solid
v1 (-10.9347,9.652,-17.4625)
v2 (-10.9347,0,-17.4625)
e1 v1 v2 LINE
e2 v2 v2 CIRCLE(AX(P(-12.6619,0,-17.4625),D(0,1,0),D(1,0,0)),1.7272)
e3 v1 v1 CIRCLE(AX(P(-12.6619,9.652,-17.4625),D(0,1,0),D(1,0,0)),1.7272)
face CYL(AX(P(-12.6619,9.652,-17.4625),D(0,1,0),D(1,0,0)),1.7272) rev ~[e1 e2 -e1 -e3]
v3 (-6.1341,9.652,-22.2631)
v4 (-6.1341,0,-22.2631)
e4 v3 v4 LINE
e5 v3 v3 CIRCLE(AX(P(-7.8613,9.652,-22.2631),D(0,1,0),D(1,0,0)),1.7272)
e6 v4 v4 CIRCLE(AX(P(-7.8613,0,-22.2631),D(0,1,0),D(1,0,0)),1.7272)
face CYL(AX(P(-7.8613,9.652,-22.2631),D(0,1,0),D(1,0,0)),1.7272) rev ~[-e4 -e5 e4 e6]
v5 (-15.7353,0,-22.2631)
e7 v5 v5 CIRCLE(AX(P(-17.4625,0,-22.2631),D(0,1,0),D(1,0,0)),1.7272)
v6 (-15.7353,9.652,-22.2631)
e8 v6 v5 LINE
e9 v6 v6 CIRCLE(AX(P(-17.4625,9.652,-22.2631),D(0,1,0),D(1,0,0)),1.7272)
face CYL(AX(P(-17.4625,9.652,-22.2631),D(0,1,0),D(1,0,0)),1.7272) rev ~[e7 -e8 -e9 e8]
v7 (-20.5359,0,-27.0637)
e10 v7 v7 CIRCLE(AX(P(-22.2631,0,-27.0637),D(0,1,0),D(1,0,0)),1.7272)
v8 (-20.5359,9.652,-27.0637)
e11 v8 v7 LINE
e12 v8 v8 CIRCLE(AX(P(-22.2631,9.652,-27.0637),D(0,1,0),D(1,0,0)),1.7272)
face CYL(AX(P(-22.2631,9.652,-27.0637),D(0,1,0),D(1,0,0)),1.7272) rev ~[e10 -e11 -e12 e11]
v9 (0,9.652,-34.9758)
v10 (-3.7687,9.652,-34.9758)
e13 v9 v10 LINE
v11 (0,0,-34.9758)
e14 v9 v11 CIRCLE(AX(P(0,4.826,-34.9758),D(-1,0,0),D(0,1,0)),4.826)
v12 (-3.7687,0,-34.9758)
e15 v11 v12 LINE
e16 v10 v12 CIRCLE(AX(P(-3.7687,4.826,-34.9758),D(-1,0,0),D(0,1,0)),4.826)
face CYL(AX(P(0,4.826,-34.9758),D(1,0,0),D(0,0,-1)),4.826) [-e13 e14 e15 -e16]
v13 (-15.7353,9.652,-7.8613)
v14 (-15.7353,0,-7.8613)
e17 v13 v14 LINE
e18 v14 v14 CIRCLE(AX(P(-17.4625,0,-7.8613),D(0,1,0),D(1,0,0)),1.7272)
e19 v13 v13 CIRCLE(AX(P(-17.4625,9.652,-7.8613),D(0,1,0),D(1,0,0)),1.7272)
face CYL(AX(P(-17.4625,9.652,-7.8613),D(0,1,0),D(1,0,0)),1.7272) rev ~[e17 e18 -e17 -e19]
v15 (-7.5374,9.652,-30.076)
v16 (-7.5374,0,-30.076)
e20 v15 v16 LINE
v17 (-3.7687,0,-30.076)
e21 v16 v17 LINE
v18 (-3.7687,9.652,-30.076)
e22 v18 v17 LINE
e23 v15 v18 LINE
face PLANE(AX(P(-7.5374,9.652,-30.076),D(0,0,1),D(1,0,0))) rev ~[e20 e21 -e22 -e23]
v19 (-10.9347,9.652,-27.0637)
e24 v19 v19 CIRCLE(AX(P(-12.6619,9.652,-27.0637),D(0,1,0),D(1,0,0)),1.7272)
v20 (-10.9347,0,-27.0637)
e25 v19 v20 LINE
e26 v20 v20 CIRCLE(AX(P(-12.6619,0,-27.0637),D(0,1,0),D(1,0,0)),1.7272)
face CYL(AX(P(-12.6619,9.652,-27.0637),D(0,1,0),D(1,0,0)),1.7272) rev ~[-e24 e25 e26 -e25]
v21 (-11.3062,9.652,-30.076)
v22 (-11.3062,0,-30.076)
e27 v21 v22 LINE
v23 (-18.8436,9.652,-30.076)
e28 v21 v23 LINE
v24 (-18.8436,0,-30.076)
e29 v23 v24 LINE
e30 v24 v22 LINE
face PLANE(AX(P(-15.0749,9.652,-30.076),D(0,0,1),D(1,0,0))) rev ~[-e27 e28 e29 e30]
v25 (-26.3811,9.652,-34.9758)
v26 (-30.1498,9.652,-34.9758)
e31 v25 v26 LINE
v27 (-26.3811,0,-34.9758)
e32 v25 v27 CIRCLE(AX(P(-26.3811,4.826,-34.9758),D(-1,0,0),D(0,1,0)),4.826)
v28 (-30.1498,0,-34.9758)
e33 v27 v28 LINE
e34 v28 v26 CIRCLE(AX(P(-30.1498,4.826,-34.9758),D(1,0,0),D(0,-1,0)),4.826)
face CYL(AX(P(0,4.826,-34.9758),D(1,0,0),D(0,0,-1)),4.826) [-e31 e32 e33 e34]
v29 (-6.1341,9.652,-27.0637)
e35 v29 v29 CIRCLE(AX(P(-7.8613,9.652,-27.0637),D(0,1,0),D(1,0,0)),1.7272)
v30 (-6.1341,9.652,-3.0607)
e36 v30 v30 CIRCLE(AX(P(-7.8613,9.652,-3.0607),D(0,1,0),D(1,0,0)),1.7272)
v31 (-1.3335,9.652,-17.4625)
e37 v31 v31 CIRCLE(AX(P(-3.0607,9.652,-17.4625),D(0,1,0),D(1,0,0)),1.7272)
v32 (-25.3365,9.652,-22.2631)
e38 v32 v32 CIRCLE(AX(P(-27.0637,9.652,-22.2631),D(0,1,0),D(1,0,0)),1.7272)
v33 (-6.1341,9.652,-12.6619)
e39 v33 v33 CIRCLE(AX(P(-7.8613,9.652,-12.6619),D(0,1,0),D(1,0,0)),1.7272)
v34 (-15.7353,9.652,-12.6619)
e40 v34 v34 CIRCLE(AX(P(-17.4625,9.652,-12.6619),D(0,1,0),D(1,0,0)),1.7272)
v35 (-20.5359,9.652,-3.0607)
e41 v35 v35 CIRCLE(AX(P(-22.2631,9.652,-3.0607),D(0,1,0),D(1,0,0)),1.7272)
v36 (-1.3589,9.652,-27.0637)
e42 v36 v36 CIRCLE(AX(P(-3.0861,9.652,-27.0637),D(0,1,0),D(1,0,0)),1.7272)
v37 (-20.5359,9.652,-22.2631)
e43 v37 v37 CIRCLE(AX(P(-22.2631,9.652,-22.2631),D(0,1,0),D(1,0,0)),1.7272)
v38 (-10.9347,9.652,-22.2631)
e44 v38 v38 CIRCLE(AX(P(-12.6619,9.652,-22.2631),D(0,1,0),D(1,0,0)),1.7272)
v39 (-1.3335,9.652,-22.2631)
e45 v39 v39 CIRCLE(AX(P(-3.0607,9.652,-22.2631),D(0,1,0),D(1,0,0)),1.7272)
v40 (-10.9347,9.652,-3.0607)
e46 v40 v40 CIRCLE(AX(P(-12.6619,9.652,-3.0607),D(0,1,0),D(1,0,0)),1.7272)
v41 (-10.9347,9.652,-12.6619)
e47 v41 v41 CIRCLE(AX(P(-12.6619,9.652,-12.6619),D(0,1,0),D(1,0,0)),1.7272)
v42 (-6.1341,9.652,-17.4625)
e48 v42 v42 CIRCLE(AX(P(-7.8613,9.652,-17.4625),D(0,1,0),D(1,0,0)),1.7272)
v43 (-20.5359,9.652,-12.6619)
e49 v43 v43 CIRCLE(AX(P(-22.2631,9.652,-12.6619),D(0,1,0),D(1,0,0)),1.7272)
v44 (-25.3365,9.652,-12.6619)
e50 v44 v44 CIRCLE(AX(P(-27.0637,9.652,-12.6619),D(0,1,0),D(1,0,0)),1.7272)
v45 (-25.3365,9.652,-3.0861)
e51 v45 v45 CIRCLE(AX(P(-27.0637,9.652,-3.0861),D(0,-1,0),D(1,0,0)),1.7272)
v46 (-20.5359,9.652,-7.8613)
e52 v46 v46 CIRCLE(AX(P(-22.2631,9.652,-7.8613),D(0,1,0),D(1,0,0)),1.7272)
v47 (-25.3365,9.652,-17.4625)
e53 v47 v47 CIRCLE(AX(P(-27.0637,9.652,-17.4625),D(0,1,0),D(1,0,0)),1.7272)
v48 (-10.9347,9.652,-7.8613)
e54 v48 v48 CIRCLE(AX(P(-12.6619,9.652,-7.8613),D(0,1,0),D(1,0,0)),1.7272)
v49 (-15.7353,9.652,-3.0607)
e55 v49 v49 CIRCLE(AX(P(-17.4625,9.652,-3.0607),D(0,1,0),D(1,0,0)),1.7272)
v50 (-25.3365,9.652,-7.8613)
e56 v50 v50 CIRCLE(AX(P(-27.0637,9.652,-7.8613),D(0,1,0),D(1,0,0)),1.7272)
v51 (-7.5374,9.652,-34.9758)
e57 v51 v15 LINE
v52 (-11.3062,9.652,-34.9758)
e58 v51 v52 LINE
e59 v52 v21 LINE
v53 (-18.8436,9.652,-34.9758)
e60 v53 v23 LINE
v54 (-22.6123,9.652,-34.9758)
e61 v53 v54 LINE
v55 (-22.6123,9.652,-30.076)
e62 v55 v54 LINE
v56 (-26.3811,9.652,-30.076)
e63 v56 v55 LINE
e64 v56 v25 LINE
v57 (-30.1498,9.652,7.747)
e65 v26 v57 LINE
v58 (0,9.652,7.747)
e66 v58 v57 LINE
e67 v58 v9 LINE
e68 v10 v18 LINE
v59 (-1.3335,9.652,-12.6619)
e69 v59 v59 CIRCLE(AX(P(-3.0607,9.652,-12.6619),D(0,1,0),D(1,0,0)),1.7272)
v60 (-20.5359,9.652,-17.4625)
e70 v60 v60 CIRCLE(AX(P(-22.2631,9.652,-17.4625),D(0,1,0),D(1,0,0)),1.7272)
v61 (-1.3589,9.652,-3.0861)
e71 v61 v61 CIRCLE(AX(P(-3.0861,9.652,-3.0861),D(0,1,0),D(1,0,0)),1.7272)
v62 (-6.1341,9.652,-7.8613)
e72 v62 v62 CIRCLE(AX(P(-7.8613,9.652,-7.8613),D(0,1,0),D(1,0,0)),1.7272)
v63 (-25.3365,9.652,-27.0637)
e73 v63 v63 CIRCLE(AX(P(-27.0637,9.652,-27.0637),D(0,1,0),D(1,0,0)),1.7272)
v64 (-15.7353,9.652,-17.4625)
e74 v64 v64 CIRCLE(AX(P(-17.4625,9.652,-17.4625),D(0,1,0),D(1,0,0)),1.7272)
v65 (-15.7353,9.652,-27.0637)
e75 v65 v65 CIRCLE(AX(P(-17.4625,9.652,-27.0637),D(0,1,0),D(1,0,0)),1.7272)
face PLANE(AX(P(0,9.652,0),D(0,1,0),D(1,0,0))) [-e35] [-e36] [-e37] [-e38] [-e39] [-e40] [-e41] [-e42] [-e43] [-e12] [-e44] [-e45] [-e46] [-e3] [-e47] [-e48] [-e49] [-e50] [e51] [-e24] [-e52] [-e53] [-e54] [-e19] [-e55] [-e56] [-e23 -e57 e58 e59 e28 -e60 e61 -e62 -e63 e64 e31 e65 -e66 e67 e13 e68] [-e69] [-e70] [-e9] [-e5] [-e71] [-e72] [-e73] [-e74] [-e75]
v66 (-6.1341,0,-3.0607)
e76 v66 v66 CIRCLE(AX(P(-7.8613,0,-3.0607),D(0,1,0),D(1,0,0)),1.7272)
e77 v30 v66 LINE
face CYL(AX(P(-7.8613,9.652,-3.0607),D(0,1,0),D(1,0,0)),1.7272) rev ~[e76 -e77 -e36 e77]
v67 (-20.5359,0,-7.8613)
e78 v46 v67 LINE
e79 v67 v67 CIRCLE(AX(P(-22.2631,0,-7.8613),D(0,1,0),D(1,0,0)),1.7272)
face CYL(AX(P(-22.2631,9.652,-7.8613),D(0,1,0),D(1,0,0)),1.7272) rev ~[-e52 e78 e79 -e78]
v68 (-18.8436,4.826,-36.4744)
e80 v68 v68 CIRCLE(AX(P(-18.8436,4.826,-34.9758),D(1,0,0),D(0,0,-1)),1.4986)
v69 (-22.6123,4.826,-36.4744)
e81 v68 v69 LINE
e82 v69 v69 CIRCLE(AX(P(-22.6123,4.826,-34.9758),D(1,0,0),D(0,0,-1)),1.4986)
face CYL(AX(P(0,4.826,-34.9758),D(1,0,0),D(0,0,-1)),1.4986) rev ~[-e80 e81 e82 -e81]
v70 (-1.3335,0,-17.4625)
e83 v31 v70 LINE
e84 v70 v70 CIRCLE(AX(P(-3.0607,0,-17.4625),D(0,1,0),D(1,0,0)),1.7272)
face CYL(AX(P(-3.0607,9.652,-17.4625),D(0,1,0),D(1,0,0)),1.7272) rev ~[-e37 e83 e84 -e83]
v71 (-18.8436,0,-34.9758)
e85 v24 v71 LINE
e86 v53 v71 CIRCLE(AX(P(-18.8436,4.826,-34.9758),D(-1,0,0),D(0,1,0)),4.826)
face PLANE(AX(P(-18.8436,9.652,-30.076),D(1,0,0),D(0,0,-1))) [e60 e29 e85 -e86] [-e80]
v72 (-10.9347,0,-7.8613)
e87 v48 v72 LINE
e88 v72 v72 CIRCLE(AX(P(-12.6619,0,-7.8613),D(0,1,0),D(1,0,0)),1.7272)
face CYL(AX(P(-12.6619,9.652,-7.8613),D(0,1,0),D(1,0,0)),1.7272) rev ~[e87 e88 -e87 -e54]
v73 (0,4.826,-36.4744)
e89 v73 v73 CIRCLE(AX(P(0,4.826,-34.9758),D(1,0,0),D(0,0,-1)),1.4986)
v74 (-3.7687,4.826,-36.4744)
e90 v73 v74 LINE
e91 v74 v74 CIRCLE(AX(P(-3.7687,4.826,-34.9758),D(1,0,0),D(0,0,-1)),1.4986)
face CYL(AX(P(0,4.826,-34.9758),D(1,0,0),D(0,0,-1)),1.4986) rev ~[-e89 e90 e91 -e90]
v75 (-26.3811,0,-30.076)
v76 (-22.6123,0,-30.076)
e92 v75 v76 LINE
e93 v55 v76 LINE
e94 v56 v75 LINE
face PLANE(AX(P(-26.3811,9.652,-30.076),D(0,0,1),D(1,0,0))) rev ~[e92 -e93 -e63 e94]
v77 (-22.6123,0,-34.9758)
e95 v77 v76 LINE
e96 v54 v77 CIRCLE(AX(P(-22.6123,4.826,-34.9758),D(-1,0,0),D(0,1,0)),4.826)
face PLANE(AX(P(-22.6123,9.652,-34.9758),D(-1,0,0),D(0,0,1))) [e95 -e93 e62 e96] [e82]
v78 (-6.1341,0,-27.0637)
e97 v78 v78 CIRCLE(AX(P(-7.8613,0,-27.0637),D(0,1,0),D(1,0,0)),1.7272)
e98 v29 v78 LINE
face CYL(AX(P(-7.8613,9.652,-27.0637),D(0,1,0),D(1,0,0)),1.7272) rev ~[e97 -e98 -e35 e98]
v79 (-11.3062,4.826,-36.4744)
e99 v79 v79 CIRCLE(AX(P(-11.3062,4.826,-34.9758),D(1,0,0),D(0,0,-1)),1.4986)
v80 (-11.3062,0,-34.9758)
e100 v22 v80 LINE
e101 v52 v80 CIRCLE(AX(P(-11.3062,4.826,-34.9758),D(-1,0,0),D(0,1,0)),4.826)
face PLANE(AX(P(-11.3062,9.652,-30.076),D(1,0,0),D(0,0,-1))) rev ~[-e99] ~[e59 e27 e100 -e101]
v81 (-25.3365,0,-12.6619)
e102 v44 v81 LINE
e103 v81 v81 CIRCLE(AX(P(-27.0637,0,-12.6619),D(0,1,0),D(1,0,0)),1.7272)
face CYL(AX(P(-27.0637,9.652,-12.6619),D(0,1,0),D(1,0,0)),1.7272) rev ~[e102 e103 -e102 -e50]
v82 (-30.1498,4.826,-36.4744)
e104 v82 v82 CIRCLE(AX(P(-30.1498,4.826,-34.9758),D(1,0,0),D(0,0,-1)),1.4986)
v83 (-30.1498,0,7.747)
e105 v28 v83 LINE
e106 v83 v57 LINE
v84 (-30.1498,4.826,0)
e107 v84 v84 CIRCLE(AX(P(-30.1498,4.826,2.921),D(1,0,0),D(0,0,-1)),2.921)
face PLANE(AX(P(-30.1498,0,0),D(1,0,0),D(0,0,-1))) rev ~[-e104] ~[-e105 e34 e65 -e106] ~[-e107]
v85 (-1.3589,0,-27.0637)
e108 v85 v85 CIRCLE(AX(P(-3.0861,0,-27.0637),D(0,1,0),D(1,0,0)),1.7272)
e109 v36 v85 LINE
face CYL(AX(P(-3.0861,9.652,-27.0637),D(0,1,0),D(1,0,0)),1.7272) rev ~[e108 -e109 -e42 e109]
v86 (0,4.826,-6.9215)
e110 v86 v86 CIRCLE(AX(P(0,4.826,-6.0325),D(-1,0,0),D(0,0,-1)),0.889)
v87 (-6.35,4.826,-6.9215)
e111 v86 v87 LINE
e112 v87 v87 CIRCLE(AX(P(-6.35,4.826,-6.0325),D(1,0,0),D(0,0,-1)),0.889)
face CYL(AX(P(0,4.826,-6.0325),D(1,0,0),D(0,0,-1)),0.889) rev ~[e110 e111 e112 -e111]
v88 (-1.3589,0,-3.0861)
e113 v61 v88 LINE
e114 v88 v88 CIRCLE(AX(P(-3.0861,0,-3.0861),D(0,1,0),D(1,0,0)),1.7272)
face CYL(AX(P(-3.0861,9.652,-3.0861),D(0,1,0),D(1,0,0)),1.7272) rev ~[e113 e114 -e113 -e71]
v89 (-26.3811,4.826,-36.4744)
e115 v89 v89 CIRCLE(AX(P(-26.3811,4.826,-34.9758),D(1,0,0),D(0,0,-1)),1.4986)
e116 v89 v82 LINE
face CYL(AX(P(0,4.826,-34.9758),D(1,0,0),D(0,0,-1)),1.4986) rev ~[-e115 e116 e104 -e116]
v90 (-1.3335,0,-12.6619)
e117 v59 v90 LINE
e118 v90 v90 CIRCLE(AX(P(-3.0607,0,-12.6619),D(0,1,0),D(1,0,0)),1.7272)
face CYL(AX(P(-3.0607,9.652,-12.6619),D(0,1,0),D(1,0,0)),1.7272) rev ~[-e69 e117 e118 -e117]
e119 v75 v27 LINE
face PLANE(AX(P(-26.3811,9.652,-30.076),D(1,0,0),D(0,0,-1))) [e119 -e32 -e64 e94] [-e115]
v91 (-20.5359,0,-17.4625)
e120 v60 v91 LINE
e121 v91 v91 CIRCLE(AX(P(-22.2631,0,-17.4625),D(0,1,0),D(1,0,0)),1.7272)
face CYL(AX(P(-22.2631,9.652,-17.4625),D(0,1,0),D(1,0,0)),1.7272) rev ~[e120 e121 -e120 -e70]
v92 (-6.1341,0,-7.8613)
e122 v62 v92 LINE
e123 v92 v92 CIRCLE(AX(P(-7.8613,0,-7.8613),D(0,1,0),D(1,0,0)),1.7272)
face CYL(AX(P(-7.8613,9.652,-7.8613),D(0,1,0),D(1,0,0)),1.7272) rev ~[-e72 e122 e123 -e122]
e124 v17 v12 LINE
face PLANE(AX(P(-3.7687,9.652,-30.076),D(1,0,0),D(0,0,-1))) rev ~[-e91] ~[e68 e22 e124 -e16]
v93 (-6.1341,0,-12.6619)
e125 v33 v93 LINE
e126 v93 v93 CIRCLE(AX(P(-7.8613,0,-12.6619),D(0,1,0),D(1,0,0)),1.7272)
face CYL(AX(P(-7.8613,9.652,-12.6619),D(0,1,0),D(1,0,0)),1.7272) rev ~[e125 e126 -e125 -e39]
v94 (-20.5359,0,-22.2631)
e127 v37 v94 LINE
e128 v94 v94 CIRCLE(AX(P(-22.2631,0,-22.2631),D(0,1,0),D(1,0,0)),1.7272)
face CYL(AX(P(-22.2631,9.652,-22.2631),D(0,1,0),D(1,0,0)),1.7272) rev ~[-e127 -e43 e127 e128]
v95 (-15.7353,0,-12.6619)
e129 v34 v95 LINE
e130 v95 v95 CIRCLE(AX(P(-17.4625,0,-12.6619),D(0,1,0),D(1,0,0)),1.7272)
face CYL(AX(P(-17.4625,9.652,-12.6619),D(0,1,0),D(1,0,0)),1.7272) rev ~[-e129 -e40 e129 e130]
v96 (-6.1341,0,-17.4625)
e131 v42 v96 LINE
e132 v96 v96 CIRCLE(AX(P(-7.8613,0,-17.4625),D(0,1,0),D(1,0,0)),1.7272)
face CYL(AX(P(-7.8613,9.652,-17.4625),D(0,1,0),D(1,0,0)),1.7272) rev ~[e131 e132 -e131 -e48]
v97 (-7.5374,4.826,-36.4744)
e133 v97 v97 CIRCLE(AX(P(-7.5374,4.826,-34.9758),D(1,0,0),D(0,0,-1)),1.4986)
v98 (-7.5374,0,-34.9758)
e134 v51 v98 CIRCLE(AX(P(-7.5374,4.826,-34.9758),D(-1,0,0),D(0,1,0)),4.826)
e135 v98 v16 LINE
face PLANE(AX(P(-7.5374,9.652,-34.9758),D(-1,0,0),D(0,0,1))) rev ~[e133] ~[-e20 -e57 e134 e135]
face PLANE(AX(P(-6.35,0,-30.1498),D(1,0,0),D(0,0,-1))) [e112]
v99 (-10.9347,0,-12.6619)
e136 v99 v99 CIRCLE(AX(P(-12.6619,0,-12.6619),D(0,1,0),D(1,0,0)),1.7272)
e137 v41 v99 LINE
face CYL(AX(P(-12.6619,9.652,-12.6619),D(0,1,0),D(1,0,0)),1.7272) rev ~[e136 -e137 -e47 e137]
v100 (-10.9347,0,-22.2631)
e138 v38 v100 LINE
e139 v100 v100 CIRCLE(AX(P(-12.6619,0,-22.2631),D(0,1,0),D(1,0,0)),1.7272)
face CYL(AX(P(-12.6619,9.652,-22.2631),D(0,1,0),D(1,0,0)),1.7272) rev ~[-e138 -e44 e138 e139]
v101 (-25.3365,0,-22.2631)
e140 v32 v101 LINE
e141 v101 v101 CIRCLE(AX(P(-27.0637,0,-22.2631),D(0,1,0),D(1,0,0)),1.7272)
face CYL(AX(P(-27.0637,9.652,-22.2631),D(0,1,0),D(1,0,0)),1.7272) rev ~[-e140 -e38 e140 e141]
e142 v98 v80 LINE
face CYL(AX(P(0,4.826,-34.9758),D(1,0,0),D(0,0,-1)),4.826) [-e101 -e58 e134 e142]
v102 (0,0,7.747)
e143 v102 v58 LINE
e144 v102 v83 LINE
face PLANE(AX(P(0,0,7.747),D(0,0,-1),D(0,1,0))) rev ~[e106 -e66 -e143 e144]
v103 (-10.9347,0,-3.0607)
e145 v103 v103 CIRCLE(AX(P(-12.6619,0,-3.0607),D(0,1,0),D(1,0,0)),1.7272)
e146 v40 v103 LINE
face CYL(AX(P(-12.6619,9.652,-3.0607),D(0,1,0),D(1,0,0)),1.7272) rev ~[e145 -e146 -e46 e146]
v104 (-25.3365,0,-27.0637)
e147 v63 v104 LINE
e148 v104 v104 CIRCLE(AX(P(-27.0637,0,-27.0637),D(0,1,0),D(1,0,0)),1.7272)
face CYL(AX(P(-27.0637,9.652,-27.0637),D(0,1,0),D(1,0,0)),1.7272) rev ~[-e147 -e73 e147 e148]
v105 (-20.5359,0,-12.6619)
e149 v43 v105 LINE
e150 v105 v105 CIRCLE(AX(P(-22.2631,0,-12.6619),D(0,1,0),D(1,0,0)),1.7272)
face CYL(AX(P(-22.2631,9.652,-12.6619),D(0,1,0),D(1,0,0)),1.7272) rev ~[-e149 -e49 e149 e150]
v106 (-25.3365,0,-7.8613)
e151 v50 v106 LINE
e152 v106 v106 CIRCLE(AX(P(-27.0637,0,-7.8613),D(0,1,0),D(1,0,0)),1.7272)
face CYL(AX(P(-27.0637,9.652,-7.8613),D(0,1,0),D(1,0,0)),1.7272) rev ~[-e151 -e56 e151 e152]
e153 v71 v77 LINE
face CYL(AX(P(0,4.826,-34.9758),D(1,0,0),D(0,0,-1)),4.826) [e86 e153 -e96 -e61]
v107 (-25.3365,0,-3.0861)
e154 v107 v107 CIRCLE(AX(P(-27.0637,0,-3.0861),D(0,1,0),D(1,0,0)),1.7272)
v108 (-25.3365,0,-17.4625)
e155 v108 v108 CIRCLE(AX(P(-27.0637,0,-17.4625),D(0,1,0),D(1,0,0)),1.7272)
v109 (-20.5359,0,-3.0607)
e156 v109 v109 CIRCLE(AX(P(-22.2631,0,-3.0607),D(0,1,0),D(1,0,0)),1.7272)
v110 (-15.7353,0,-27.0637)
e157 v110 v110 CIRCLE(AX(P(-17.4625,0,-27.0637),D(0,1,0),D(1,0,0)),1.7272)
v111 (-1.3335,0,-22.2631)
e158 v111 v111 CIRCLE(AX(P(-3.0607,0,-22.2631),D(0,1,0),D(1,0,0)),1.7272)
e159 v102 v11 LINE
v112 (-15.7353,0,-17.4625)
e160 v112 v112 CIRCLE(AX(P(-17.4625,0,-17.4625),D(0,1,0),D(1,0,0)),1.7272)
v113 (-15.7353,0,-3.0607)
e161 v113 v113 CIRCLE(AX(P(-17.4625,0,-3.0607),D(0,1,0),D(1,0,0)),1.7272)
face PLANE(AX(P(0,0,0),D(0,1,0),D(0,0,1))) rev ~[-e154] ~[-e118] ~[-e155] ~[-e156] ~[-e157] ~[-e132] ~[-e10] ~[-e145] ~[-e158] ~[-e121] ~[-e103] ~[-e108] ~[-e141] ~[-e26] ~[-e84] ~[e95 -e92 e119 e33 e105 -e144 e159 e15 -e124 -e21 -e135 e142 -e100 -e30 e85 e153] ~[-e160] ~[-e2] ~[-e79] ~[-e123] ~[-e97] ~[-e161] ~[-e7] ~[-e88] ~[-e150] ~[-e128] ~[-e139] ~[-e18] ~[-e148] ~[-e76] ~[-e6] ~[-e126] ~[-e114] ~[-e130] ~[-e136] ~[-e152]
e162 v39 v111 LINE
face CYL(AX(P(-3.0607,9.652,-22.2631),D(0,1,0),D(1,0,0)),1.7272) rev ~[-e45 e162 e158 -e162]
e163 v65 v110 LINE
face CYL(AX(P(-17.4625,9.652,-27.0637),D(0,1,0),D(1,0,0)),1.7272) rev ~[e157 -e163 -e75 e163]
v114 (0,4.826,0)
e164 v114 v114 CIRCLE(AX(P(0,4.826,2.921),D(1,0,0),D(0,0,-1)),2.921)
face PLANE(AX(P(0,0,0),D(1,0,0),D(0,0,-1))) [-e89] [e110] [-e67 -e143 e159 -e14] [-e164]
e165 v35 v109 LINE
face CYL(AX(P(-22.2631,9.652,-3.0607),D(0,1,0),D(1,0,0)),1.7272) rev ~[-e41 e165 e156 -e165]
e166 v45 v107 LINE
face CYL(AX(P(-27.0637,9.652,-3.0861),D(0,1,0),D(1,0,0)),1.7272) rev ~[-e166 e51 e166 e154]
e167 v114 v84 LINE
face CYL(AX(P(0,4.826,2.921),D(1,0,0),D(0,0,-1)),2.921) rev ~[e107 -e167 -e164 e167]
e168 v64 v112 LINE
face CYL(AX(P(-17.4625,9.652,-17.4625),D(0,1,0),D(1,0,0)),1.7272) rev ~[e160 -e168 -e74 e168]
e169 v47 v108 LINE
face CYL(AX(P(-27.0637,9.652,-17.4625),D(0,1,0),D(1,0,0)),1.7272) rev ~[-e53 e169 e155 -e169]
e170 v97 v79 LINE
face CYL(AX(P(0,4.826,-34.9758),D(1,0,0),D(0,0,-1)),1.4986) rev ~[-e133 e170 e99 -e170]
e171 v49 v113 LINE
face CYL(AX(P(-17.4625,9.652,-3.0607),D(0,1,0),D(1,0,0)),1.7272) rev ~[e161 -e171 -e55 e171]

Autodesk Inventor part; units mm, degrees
ref_plane "YZ Plane" through (0, 0, 0) normal (1, 0, 0) x (0, 1, 0)
ref_plane "XZ Plane" through (0, 0, 0) normal (0, 1, 0) x (-1, 0, 0)
ref_plane "XY Plane" through (0, 0, 0) normal (0, 0, 1) x (1, 0, 0)
sketch "Sketch1" plane through (0, 0, 0) normal (0, 1, 0) x (-1, 0, 0)
  line L0 (0, 0) -> (30.1498, 0)
  line L1 (30.1498, 0) -> (30.1498, -30.1498)
  line L2 (30.1498, -30.1498) -> (0, -30.1498)
  line L3 (0, -30.1498) -> (0, 0)
  dimension "d0" = 30.1498
  dimension "d1" = 30.1498
extrude "Extrusion1" add sketch "Sketch1" along normal blind 9.652
sketch "Sketch3" plane through (0, 9.652, 0) normal (0, 1, 0) x (1, 0, 0)
  line L0 (-30.1498, 0) -> (0, 0) projected
  line L1 (0, 0) -> (0, 30.1498) projected
  line L2 (0, 30.1498) -> (-30.1498, 30.1498) projected
  line L3 (-30.1498, 30.1498) -> (-30.1498, 0) projected
  line L4 (-30.1498, 0) -> (0, 0) projected
  line L5 (-15.0749, 0) -> (-28.7909, 0)
  line L6 (-30.1498, 30.1498) -> (-30.1498, 0) projected
  line L7 (-30.1498, 15.0749) -> (-30.1498, 1.3589)
  line L8 (-30.1498, 1.3589) -> (-30.1498, 3.0861)
  line L9 (-30.1498, 3.0861) -> (-27.0637, 3.0861)
  line L10 (-28.7909, 0) -> (-27.0637, 0)
  line L11 (-27.0637, 0) -> (-27.0637, 3.0861)
  circle A0 centre (-27.0637, 3.0861) radius 1.7272
  line L12 (-15.0749, 0) -> (-15.0749, 4.3585)
  line L13 (-30.1498, 15.0749) -> (-29.1171, 15.0749)
  circle A1 centre (-3.0861, 3.0861) radius 1.7272
  line L14 (0, 15.0749) -> (-1.0327, 15.0749)
  circle A2 centre (-27.0637, 27.0637) radius 1.7272
  circle A3 centre (-3.0861, 27.0637) radius 1.7272
  dimension "d9" = 13.716
  dimension "d10" = 13.716
  dimension "d11" = 1.7272
  dimension "d12" = 1.7272
  dimension "d13" = 3.4544
extrude "Extrusion3" cut sketch "Sketch3" against normal blind 30.48 contours A0 L9 L11 | L11 L9 A0 | A1 | A2 | A3
sketch "Sketch4" plane through (0, 0, 0) normal (1, 0, 0) x (0, 0, -1)
  line L0 (4.8133, 9.652) -> (4.8133, 0) projected
  line L1 (1.3589, 9.652) -> (1.3589, 0) projected
  line L2 (4.8133, 4.826) -> (9.6393, 4.826)
  circle A0 centre (4.9912, 4.826) radius 2.921 projected
  line L3 (30.1498, 0) -> (0, 0) projected
  line L4 (30.1498, 0) -> (30.1498, 9.652) projected
  line L5 (0, 9.652) -> (30.1498, 9.652) projected
  line L6 (0, 0) -> (0, 9.652) projected
  line L7 (0, 4.826) -> (-2.921, 4.826)
  circle A1 centre (-2.921, 4.826) radius 2.921
  line L8 (0, 0) -> (-7.747, 0)
  line L9 (-7.747, 0) -> (-7.747, 9.652)
  line L10 (-7.747, 9.652) -> (0, 9.652)
  line L11 (0, 9.652) -> (0, 0)
  dimension "d16" = 4.826
  dimension "d18" = 2.921
  dimension "d19" = 7.747
extrude "Extrusion4" add sketch "Sketch4" against normal up to surface (30.1498 mm away) contours L6 L8 L9 L10
sketch "Sketch5" plane through (0, 9.652, 0) normal (0, 1, 0) x (1, 0, 0)
  circle A0 centre (-3.0861, 27.0637) radius 1.7272 projected
  circle A1 centre (-3.0861, 3.0861) radius 1.7272 projected
  circle A2 centre (-27.0637, 3.0861) radius 1.7272 projected
  circle A3 centre (-27.0637, 27.0637) radius 1.7272 projected
  line L0 (0, 30.1498) -> (0, -7.747) projected
  line L1 (0, 30.1498) -> (-30.1498, 30.1498) projected
  line L2 (-30.1498, 30.1498) -> (-30.1498, -7.747) projected
  line L3 (0, -7.747) -> (-30.1498, -7.747) projected
  circle A4 centre (-27.0637, 27.0637) radius 1.7272
  circle A5 centre (-27.0637, 22.2631) radius 1.7272
  circle A6 centre (-27.0637, 17.4625) radius 1.7272
  circle A7 centre (-27.0637, 12.6619) radius 1.7272
  circle A8 centre (-27.0637, 7.8613) radius 1.7272
  circle A9 centre (-27.0637, 3.0607) radius 1.7272
  circle A10 centre (-22.2631, 27.0637) radius 1.7272
  circle A11 centre (-22.2631, 22.2631) radius 1.7272
  circle A12 centre (-22.2631, 17.4625) radius 1.7272
  circle A13 centre (-22.2631, 12.6619) radius 1.7272
  circle A14 centre (-22.2631, 7.8613) radius 1.7272
  circle A15 centre (-22.2631, 3.0607) radius 1.7272
  circle A16 centre (-17.4625, 27.0637) radius 1.7272
  circle A17 centre (-17.4625, 22.2631) radius 1.7272
  circle A18 centre (-17.4625, 17.4625) radius 1.7272
  circle A19 centre (-17.4625, 12.6619) radius 1.7272
  circle A20 centre (-17.4625, 7.8613) radius 1.7272
  circle A21 centre (-17.4625, 3.0607) radius 1.7272
  circle A22 centre (-12.6619, 27.0637) radius 1.7272
  circle A23 centre (-12.6619, 22.2631) radius 1.7272
  circle A24 centre (-12.6619, 17.4625) radius 1.7272
  circle A25 centre (-12.6619, 12.6619) radius 1.7272
  circle A26 centre (-12.6619, 7.8613) radius 1.7272
  circle A27 centre (-12.6619, 3.0607) radius 1.7272
  circle A28 centre (-7.8613, 27.0637) radius 1.7272
  circle A29 centre (-7.8613, 22.2631) radius 1.7272
  circle A30 centre (-7.8613, 17.4625) radius 1.7272
  circle A31 centre (-7.8613, 12.6619) radius 1.7272
  circle A32 centre (-7.8613, 7.8613) radius 1.7272
  circle A33 centre (-7.8613, 3.0607) radius 1.7272
  circle A34 centre (-3.0607, 27.0637) radius 1.7272
  circle A35 centre (-3.0607, 22.2631) radius 1.7272
  circle A36 centre (-3.0607, 17.4625) radius 1.7272
  circle A37 centre (-3.0607, 12.6619) radius 1.7272
  circle A38 centre (-3.0607, 7.8613) radius 1.7272
  circle A39 centre (-3.0607, 3.0607) radius 1.7272
  point P0 (0, 0)
  dimension "d24" = 4.8006
  dimension "d27" = 4.8006
extrude "Extrusion5" cut sketch "Sketch5" against normal blind 30.48 contours A5 | A6 | A7 | A8 | A10 | A11 | A12 | A13 | A14 | A15 | A16 | A17 | A18 | A19 | A20 | A21 | A22 | A23 | A24 | A25 | A26 | A27 | A28 | A29 | A30 | A31 | A32 | A33 | A35 | A36 | A37 | A38
sketch "Sketch6" plane through (0, 0, -30.1498) normal (1, 0, 0) x (0, 0, -1)
  circle A0 centre (-33.0708, 4.826) radius 2.921 projected
  line L0 (0, 9.652) -> (-37.8968, 9.652) projected
  line L1 (-37.8968, 9.652) -> (-37.8968, 0) projected
  line L2 (-37.8968, 0) -> (0, 0) projected
  line L3 (0, 0) -> (0, 9.652) projected
  line L4 (-24.0157, 9.652) -> (-24.0157, 0) projected
  line L5 (-25.3365, 9.652) -> (-25.3365, 0) projected
  line L6 (-25.3365, 4.826) -> (-24.0157, 4.826)
  line L7 (-24.6761, 4.826) -> (-25.3365, 4.826)
  line L8 (-28.7909, 9.652) -> (-28.7909, 0) projected
  line L9 (-25.0063, 4.826) -> (-24.1173, 4.826)
  circle A1 centre (-24.1173, 4.826) radius 0.889
  point P0 (-30.1498, 0)
  dimension "d33" = 0.889
  dimension "d34" = 1.778
sketch "Sketch7" plane through (0, 9.652, 0) normal (0, 1, 0) x (1, 0, 0)
  circle A0 centre (-3.0607, 7.8613) radius 1.7272 projected
  point P0 (0, 0)
extrude "Extrusion6" add sketch "Sketch7" against normal blind 9.652
extrude "Extrusion7" cut sketch "Sketch6" against normal blind 6.35 contours A1 L4 | L4 L6 A1 | L4 A1 L6
sketch "Sketch8" plane through (0, 0, -30.1498) normal (1, 0, 0) x (0, 0, -1)
  circle A0 centre (-24.1173, 4.826) radius 0.889 projected
  circle A1 centre (-33.0708, 4.826) radius 2.921 projected
  line L0 (0, 9.652) -> (-37.8968, 9.652) projected
  line L1 (-37.8968, 9.652) -> (-37.8968, 0) projected
  line L2 (-37.8968, 0) -> (0, 0) projected
  line L3 (0, 0) -> (0, 9.652) projected
  line L4 (0, 0) -> (0, 9.652) projected
  line L5 (0, 4.826) -> (0, 0)
  line L6 (-1.3589, 0) -> (-4.8133, 0) projected
  line L7 (0, 4.826) -> (4.826, 4.826)
  circle A2 centre (4.826, 4.826) radius 4.826
  line L8 (0, 9.652) -> (4.826, 9.652)
  line L9 (4.826, 0) -> (0, 0)
  point P0 (-30.1498, 0)
  dimension "d39" = 4.826
  dimension "d40" = 4.826
extrude "Extrusion8" add sketch "Sketch8" against normal up to surface (30.1498 mm away) contours L8 A2 L3 | A2 L9 L3 | A2
sketch "Sketch9" plane through (0, 0, 7.747) normal (1, 0, 0) x (0, 0, -1)
  circle A0 centre (13.7795, 4.826) radius 0.889 projected
  circle A1 centre (4.826, 4.826) radius 2.921 projected
  line L0 (42.7228, 9.652) -> (0, 9.652) projected
  line L1 (0, 9.652) -> (0, 0) projected
  line L2 (0, 0) -> (42.7228, 0) projected
  arc A2 (42.7228, 0) -> (42.7228, 9.652) centre (42.7228, 4.826) ccw projected
  circle A3 centre (42.7228, 4.826) radius 1.4986
  point P0 (7.747, 0)
  dimension "d43" = 2.9972
extrude "Extrusion9" cut sketch "Sketch9" against normal through all contours A3
sketch "Sketch10" plane through (0, 9.652, 0) normal (0, 1, 0) x (1, 0, 0)
  circle A0 centre (-3.0607, 12.6619) radius 1.7272 projected
  circle A1 centre (-3.0607, 22.2631) radius 1.7272 projected
  circle A2 centre (-7.8613, 7.8613) radius 1.7272 projected
  circle A3 centre (-7.8613, 17.4625) radius 1.7272 projected
  circle A4 centre (-7.8613, 27.0637) radius 1.7272 projected
  circle A5 centre (-12.6619, 7.8613) radius 1.7272 projected
  circle A6 centre (-12.6619, 17.4625) radius 1.7272 projected
  circle A7 centre (-12.6619, 27.0637) radius 1.7272 projected
  circle A8 centre (-17.4625, 7.8613) radius 1.7272 projected
  circle A9 centre (-17.4625, 17.4625) radius 1.7272 projected
  circle A10 centre (-17.4625, 27.0637) radius 1.7272 projected
  circle A11 centre (-22.2631, 7.8613) radius 1.7272 projected
  circle A12 centre (-22.2631, 17.4625) radius 1.7272 projected
  circle A13 centre (-22.2631, 27.0637) radius 1.7272 projected
  circle A14 centre (-27.0637, 12.6619) radius 1.7272 projected
  circle A15 centre (-27.0637, 22.2631) radius 1.7272 projected
  circle A16 centre (-27.0637, 17.4625) radius 1.7272 projected
  circle A17 centre (-27.0637, 7.8613) radius 1.7272 projected
  circle A18 centre (-22.2631, 22.2631) radius 1.7272 projected
  circle A19 centre (-22.2631, 12.6619) radius 1.7272 projected
  circle A20 centre (-22.2631, 3.0607) radius 1.7272 projected
  circle A21 centre (-17.4625, 22.2631) radius 1.7272 projected
  circle A22 centre (-17.4625, 12.6619) radius 1.7272 projected
  circle A23 centre (-17.4625, 3.0607) radius 1.7272 projected
  circle A24 centre (-12.6619, 22.2631) radius 1.7272 projected
  circle A25 centre (-12.6619, 12.6619) radius 1.7272 projected
  circle A26 centre (-12.6619, 3.0607) radius 1.7272 projected
  circle A27 centre (-7.8613, 22.2631) radius 1.7272 projected
  circle A28 centre (-7.8613, 12.6619) radius 1.7272 projected
  circle A29 centre (-7.8613, 3.0607) radius 1.7272 projected
  circle A30 centre (-3.0607, 17.4625) radius 1.7272 projected
  circle A31 centre (-3.0861, 27.0637) radius 1.7272 projected
  circle A32 centre (-3.0861, 3.0861) radius 1.7272 projected
  circle A33 centre (-27.0637, 3.0861) radius 1.7272 projected
  circle A34 centre (-27.0637, 27.0637) radius 1.7272 projected
  line L0 (0, 34.9758) -> (0, -7.747) projected
  line L1 (0, 34.9758) -> (-30.1498, 34.9758) construction
  line L2 (-30.1498, 34.9758) -> (-30.1498, -7.747) projected
  line L3 (0, -7.747) -> (-30.1498, -7.747) projected
  line L4 (0, 36.4744) -> (-30.1498, 36.4744) construction
  line L5 (-30.1498, 34.9758) -> (-30.1498, 34.9758) projected
  line L6 (0, 34.9758) -> (-30.1498, 34.9758) construction
  line L7 (0, 34.9758) -> (0, 34.9758) projected
  line L8 (0, 34.9758) -> (-30.1498, 34.9758) projected
  line L9 (-30.1498, 34.9758) -> (-30.1498, 39.8018) projected
  line L10 (0, 34.9758) -> (0, 39.8018) projected
  line L11 (0, 33.4772) -> (-30.1498, 33.4772) construction
  line L12 (-30.1498, 34.9758) -> (-30.1498, -7.747) projected
  line L13 (-30.1498, 30.076) -> (0, 30.076)
  line L14 (0, 30.076) -> (0, 39.8018)
  line L15 (-30.1498, 39.8018) -> (-30.1498, 30.076)
  line L16 (-15.0749, 39.8018) -> (-15.0749, 30.076)
  line L17 (0, 34.9758) -> (-30.1498, 34.9758) projected
  line L18 (-15.0749, 34.9758) -> (-30.1498, 34.9758) construction
  line L19 (-30.1498, 34.9758) -> (-22.6123, 34.9758)
  line L20 (-22.6123, 34.9758) -> (-22.6123, 39.8018)
  line L21 (-22.6123, 34.9758) -> (-22.6123, 30.076)
  line L22 (0, 34.9758) -> (-7.5374, 34.9758)
  line L23 (-7.5374, 39.8018) -> (-7.5374, 30.076)
  line L24 (-26.3811, 30.076) -> (-26.3811, 39.8018)
  line L25 (-22.6123, 30.076) -> (-15.0749, 30.076)
  line L26 (-18.8436, 30.076) -> (-18.8436, 39.8018)
  line L27 (-7.5374, 30.076) -> (-15.0749, 30.076)
  line L28 (-11.3062, 30.076) -> (-11.3062, 39.8018)
  line L29 (0, 30.076) -> (-7.5374, 30.076)
  line L30 (-3.7687, 30.076) -> (-3.7687, 39.8018)
  line L31 (-3.7687, 30.076) -> (-7.5374, 30.076)
  line L32 (-7.5374, 30.076) -> (-7.5374, 39.8018)
  line L33 (-7.5374, 39.8018) -> (-3.7687, 39.8018)
  line L34 (-3.7687, 39.8018) -> (-3.7687, 30.076)
  line L35 (-11.3062, 30.076) -> (-15.0749, 30.076)
  line L36 (-15.0749, 30.076) -> (-15.0749, 39.8018)
  line L37 (-15.0749, 39.8018) -> (-11.3062, 39.8018)
  line L38 (-11.3062, 39.8018) -> (-11.3062, 30.076)
  line L39 (-18.8436, 30.076) -> (-22.6123, 30.076)
  line L40 (-22.6123, 30.076) -> (-22.6123, 39.8018)
  line L41 (-18.8436, 39.8018) -> (-18.8436, 30.076)
  line L42 (-22.6123, 30.076) -> (-26.3811, 30.076)
  line L43 (-26.3811, 30.076) -> (-26.3811, 39.8018)
  line L44 (-26.3811, 39.8018) -> (-22.6123, 39.8018)
  line L45 (-22.6123, 39.8018) -> (-22.6123, 30.076)
  line L46 (-3.7687, 30.076) -> (-7.5374, 30.076)
  line L47 (-7.5374, 30.076) -> (-7.5374, 39.8018)
  line L48 (-7.5374, 39.8018) -> (-3.7687, 39.8018)
  line L49 (-3.7687, 39.8018) -> (-3.7687, 30.076)
  line L50 (-11.3062, 30.076) -> (-18.8436, 30.076)
  line L51 (-18.8436, 30.076) -> (-18.8436, 39.8018)
  line L52 (-18.8436, 39.8018) -> (-11.3062, 39.8018)
  line L53 (-11.3062, 39.8018) -> (-11.3062, 30.076)
  point P0 (0, 0)
extrude "Extrusion10" cut sketch "Sketch10" against normal through all contours L30 L13 L23 L8 | L8 L23 L33 L30 | L28 L13 L16 L8 | L8 L16 L37 L28 | L16 L13 L26 L8 | L8 L26 L52 L16 | L24 L8 L21 L13 | L24 L44 L20 L8
properties part number "left wing" material "Aluminum 6061"
